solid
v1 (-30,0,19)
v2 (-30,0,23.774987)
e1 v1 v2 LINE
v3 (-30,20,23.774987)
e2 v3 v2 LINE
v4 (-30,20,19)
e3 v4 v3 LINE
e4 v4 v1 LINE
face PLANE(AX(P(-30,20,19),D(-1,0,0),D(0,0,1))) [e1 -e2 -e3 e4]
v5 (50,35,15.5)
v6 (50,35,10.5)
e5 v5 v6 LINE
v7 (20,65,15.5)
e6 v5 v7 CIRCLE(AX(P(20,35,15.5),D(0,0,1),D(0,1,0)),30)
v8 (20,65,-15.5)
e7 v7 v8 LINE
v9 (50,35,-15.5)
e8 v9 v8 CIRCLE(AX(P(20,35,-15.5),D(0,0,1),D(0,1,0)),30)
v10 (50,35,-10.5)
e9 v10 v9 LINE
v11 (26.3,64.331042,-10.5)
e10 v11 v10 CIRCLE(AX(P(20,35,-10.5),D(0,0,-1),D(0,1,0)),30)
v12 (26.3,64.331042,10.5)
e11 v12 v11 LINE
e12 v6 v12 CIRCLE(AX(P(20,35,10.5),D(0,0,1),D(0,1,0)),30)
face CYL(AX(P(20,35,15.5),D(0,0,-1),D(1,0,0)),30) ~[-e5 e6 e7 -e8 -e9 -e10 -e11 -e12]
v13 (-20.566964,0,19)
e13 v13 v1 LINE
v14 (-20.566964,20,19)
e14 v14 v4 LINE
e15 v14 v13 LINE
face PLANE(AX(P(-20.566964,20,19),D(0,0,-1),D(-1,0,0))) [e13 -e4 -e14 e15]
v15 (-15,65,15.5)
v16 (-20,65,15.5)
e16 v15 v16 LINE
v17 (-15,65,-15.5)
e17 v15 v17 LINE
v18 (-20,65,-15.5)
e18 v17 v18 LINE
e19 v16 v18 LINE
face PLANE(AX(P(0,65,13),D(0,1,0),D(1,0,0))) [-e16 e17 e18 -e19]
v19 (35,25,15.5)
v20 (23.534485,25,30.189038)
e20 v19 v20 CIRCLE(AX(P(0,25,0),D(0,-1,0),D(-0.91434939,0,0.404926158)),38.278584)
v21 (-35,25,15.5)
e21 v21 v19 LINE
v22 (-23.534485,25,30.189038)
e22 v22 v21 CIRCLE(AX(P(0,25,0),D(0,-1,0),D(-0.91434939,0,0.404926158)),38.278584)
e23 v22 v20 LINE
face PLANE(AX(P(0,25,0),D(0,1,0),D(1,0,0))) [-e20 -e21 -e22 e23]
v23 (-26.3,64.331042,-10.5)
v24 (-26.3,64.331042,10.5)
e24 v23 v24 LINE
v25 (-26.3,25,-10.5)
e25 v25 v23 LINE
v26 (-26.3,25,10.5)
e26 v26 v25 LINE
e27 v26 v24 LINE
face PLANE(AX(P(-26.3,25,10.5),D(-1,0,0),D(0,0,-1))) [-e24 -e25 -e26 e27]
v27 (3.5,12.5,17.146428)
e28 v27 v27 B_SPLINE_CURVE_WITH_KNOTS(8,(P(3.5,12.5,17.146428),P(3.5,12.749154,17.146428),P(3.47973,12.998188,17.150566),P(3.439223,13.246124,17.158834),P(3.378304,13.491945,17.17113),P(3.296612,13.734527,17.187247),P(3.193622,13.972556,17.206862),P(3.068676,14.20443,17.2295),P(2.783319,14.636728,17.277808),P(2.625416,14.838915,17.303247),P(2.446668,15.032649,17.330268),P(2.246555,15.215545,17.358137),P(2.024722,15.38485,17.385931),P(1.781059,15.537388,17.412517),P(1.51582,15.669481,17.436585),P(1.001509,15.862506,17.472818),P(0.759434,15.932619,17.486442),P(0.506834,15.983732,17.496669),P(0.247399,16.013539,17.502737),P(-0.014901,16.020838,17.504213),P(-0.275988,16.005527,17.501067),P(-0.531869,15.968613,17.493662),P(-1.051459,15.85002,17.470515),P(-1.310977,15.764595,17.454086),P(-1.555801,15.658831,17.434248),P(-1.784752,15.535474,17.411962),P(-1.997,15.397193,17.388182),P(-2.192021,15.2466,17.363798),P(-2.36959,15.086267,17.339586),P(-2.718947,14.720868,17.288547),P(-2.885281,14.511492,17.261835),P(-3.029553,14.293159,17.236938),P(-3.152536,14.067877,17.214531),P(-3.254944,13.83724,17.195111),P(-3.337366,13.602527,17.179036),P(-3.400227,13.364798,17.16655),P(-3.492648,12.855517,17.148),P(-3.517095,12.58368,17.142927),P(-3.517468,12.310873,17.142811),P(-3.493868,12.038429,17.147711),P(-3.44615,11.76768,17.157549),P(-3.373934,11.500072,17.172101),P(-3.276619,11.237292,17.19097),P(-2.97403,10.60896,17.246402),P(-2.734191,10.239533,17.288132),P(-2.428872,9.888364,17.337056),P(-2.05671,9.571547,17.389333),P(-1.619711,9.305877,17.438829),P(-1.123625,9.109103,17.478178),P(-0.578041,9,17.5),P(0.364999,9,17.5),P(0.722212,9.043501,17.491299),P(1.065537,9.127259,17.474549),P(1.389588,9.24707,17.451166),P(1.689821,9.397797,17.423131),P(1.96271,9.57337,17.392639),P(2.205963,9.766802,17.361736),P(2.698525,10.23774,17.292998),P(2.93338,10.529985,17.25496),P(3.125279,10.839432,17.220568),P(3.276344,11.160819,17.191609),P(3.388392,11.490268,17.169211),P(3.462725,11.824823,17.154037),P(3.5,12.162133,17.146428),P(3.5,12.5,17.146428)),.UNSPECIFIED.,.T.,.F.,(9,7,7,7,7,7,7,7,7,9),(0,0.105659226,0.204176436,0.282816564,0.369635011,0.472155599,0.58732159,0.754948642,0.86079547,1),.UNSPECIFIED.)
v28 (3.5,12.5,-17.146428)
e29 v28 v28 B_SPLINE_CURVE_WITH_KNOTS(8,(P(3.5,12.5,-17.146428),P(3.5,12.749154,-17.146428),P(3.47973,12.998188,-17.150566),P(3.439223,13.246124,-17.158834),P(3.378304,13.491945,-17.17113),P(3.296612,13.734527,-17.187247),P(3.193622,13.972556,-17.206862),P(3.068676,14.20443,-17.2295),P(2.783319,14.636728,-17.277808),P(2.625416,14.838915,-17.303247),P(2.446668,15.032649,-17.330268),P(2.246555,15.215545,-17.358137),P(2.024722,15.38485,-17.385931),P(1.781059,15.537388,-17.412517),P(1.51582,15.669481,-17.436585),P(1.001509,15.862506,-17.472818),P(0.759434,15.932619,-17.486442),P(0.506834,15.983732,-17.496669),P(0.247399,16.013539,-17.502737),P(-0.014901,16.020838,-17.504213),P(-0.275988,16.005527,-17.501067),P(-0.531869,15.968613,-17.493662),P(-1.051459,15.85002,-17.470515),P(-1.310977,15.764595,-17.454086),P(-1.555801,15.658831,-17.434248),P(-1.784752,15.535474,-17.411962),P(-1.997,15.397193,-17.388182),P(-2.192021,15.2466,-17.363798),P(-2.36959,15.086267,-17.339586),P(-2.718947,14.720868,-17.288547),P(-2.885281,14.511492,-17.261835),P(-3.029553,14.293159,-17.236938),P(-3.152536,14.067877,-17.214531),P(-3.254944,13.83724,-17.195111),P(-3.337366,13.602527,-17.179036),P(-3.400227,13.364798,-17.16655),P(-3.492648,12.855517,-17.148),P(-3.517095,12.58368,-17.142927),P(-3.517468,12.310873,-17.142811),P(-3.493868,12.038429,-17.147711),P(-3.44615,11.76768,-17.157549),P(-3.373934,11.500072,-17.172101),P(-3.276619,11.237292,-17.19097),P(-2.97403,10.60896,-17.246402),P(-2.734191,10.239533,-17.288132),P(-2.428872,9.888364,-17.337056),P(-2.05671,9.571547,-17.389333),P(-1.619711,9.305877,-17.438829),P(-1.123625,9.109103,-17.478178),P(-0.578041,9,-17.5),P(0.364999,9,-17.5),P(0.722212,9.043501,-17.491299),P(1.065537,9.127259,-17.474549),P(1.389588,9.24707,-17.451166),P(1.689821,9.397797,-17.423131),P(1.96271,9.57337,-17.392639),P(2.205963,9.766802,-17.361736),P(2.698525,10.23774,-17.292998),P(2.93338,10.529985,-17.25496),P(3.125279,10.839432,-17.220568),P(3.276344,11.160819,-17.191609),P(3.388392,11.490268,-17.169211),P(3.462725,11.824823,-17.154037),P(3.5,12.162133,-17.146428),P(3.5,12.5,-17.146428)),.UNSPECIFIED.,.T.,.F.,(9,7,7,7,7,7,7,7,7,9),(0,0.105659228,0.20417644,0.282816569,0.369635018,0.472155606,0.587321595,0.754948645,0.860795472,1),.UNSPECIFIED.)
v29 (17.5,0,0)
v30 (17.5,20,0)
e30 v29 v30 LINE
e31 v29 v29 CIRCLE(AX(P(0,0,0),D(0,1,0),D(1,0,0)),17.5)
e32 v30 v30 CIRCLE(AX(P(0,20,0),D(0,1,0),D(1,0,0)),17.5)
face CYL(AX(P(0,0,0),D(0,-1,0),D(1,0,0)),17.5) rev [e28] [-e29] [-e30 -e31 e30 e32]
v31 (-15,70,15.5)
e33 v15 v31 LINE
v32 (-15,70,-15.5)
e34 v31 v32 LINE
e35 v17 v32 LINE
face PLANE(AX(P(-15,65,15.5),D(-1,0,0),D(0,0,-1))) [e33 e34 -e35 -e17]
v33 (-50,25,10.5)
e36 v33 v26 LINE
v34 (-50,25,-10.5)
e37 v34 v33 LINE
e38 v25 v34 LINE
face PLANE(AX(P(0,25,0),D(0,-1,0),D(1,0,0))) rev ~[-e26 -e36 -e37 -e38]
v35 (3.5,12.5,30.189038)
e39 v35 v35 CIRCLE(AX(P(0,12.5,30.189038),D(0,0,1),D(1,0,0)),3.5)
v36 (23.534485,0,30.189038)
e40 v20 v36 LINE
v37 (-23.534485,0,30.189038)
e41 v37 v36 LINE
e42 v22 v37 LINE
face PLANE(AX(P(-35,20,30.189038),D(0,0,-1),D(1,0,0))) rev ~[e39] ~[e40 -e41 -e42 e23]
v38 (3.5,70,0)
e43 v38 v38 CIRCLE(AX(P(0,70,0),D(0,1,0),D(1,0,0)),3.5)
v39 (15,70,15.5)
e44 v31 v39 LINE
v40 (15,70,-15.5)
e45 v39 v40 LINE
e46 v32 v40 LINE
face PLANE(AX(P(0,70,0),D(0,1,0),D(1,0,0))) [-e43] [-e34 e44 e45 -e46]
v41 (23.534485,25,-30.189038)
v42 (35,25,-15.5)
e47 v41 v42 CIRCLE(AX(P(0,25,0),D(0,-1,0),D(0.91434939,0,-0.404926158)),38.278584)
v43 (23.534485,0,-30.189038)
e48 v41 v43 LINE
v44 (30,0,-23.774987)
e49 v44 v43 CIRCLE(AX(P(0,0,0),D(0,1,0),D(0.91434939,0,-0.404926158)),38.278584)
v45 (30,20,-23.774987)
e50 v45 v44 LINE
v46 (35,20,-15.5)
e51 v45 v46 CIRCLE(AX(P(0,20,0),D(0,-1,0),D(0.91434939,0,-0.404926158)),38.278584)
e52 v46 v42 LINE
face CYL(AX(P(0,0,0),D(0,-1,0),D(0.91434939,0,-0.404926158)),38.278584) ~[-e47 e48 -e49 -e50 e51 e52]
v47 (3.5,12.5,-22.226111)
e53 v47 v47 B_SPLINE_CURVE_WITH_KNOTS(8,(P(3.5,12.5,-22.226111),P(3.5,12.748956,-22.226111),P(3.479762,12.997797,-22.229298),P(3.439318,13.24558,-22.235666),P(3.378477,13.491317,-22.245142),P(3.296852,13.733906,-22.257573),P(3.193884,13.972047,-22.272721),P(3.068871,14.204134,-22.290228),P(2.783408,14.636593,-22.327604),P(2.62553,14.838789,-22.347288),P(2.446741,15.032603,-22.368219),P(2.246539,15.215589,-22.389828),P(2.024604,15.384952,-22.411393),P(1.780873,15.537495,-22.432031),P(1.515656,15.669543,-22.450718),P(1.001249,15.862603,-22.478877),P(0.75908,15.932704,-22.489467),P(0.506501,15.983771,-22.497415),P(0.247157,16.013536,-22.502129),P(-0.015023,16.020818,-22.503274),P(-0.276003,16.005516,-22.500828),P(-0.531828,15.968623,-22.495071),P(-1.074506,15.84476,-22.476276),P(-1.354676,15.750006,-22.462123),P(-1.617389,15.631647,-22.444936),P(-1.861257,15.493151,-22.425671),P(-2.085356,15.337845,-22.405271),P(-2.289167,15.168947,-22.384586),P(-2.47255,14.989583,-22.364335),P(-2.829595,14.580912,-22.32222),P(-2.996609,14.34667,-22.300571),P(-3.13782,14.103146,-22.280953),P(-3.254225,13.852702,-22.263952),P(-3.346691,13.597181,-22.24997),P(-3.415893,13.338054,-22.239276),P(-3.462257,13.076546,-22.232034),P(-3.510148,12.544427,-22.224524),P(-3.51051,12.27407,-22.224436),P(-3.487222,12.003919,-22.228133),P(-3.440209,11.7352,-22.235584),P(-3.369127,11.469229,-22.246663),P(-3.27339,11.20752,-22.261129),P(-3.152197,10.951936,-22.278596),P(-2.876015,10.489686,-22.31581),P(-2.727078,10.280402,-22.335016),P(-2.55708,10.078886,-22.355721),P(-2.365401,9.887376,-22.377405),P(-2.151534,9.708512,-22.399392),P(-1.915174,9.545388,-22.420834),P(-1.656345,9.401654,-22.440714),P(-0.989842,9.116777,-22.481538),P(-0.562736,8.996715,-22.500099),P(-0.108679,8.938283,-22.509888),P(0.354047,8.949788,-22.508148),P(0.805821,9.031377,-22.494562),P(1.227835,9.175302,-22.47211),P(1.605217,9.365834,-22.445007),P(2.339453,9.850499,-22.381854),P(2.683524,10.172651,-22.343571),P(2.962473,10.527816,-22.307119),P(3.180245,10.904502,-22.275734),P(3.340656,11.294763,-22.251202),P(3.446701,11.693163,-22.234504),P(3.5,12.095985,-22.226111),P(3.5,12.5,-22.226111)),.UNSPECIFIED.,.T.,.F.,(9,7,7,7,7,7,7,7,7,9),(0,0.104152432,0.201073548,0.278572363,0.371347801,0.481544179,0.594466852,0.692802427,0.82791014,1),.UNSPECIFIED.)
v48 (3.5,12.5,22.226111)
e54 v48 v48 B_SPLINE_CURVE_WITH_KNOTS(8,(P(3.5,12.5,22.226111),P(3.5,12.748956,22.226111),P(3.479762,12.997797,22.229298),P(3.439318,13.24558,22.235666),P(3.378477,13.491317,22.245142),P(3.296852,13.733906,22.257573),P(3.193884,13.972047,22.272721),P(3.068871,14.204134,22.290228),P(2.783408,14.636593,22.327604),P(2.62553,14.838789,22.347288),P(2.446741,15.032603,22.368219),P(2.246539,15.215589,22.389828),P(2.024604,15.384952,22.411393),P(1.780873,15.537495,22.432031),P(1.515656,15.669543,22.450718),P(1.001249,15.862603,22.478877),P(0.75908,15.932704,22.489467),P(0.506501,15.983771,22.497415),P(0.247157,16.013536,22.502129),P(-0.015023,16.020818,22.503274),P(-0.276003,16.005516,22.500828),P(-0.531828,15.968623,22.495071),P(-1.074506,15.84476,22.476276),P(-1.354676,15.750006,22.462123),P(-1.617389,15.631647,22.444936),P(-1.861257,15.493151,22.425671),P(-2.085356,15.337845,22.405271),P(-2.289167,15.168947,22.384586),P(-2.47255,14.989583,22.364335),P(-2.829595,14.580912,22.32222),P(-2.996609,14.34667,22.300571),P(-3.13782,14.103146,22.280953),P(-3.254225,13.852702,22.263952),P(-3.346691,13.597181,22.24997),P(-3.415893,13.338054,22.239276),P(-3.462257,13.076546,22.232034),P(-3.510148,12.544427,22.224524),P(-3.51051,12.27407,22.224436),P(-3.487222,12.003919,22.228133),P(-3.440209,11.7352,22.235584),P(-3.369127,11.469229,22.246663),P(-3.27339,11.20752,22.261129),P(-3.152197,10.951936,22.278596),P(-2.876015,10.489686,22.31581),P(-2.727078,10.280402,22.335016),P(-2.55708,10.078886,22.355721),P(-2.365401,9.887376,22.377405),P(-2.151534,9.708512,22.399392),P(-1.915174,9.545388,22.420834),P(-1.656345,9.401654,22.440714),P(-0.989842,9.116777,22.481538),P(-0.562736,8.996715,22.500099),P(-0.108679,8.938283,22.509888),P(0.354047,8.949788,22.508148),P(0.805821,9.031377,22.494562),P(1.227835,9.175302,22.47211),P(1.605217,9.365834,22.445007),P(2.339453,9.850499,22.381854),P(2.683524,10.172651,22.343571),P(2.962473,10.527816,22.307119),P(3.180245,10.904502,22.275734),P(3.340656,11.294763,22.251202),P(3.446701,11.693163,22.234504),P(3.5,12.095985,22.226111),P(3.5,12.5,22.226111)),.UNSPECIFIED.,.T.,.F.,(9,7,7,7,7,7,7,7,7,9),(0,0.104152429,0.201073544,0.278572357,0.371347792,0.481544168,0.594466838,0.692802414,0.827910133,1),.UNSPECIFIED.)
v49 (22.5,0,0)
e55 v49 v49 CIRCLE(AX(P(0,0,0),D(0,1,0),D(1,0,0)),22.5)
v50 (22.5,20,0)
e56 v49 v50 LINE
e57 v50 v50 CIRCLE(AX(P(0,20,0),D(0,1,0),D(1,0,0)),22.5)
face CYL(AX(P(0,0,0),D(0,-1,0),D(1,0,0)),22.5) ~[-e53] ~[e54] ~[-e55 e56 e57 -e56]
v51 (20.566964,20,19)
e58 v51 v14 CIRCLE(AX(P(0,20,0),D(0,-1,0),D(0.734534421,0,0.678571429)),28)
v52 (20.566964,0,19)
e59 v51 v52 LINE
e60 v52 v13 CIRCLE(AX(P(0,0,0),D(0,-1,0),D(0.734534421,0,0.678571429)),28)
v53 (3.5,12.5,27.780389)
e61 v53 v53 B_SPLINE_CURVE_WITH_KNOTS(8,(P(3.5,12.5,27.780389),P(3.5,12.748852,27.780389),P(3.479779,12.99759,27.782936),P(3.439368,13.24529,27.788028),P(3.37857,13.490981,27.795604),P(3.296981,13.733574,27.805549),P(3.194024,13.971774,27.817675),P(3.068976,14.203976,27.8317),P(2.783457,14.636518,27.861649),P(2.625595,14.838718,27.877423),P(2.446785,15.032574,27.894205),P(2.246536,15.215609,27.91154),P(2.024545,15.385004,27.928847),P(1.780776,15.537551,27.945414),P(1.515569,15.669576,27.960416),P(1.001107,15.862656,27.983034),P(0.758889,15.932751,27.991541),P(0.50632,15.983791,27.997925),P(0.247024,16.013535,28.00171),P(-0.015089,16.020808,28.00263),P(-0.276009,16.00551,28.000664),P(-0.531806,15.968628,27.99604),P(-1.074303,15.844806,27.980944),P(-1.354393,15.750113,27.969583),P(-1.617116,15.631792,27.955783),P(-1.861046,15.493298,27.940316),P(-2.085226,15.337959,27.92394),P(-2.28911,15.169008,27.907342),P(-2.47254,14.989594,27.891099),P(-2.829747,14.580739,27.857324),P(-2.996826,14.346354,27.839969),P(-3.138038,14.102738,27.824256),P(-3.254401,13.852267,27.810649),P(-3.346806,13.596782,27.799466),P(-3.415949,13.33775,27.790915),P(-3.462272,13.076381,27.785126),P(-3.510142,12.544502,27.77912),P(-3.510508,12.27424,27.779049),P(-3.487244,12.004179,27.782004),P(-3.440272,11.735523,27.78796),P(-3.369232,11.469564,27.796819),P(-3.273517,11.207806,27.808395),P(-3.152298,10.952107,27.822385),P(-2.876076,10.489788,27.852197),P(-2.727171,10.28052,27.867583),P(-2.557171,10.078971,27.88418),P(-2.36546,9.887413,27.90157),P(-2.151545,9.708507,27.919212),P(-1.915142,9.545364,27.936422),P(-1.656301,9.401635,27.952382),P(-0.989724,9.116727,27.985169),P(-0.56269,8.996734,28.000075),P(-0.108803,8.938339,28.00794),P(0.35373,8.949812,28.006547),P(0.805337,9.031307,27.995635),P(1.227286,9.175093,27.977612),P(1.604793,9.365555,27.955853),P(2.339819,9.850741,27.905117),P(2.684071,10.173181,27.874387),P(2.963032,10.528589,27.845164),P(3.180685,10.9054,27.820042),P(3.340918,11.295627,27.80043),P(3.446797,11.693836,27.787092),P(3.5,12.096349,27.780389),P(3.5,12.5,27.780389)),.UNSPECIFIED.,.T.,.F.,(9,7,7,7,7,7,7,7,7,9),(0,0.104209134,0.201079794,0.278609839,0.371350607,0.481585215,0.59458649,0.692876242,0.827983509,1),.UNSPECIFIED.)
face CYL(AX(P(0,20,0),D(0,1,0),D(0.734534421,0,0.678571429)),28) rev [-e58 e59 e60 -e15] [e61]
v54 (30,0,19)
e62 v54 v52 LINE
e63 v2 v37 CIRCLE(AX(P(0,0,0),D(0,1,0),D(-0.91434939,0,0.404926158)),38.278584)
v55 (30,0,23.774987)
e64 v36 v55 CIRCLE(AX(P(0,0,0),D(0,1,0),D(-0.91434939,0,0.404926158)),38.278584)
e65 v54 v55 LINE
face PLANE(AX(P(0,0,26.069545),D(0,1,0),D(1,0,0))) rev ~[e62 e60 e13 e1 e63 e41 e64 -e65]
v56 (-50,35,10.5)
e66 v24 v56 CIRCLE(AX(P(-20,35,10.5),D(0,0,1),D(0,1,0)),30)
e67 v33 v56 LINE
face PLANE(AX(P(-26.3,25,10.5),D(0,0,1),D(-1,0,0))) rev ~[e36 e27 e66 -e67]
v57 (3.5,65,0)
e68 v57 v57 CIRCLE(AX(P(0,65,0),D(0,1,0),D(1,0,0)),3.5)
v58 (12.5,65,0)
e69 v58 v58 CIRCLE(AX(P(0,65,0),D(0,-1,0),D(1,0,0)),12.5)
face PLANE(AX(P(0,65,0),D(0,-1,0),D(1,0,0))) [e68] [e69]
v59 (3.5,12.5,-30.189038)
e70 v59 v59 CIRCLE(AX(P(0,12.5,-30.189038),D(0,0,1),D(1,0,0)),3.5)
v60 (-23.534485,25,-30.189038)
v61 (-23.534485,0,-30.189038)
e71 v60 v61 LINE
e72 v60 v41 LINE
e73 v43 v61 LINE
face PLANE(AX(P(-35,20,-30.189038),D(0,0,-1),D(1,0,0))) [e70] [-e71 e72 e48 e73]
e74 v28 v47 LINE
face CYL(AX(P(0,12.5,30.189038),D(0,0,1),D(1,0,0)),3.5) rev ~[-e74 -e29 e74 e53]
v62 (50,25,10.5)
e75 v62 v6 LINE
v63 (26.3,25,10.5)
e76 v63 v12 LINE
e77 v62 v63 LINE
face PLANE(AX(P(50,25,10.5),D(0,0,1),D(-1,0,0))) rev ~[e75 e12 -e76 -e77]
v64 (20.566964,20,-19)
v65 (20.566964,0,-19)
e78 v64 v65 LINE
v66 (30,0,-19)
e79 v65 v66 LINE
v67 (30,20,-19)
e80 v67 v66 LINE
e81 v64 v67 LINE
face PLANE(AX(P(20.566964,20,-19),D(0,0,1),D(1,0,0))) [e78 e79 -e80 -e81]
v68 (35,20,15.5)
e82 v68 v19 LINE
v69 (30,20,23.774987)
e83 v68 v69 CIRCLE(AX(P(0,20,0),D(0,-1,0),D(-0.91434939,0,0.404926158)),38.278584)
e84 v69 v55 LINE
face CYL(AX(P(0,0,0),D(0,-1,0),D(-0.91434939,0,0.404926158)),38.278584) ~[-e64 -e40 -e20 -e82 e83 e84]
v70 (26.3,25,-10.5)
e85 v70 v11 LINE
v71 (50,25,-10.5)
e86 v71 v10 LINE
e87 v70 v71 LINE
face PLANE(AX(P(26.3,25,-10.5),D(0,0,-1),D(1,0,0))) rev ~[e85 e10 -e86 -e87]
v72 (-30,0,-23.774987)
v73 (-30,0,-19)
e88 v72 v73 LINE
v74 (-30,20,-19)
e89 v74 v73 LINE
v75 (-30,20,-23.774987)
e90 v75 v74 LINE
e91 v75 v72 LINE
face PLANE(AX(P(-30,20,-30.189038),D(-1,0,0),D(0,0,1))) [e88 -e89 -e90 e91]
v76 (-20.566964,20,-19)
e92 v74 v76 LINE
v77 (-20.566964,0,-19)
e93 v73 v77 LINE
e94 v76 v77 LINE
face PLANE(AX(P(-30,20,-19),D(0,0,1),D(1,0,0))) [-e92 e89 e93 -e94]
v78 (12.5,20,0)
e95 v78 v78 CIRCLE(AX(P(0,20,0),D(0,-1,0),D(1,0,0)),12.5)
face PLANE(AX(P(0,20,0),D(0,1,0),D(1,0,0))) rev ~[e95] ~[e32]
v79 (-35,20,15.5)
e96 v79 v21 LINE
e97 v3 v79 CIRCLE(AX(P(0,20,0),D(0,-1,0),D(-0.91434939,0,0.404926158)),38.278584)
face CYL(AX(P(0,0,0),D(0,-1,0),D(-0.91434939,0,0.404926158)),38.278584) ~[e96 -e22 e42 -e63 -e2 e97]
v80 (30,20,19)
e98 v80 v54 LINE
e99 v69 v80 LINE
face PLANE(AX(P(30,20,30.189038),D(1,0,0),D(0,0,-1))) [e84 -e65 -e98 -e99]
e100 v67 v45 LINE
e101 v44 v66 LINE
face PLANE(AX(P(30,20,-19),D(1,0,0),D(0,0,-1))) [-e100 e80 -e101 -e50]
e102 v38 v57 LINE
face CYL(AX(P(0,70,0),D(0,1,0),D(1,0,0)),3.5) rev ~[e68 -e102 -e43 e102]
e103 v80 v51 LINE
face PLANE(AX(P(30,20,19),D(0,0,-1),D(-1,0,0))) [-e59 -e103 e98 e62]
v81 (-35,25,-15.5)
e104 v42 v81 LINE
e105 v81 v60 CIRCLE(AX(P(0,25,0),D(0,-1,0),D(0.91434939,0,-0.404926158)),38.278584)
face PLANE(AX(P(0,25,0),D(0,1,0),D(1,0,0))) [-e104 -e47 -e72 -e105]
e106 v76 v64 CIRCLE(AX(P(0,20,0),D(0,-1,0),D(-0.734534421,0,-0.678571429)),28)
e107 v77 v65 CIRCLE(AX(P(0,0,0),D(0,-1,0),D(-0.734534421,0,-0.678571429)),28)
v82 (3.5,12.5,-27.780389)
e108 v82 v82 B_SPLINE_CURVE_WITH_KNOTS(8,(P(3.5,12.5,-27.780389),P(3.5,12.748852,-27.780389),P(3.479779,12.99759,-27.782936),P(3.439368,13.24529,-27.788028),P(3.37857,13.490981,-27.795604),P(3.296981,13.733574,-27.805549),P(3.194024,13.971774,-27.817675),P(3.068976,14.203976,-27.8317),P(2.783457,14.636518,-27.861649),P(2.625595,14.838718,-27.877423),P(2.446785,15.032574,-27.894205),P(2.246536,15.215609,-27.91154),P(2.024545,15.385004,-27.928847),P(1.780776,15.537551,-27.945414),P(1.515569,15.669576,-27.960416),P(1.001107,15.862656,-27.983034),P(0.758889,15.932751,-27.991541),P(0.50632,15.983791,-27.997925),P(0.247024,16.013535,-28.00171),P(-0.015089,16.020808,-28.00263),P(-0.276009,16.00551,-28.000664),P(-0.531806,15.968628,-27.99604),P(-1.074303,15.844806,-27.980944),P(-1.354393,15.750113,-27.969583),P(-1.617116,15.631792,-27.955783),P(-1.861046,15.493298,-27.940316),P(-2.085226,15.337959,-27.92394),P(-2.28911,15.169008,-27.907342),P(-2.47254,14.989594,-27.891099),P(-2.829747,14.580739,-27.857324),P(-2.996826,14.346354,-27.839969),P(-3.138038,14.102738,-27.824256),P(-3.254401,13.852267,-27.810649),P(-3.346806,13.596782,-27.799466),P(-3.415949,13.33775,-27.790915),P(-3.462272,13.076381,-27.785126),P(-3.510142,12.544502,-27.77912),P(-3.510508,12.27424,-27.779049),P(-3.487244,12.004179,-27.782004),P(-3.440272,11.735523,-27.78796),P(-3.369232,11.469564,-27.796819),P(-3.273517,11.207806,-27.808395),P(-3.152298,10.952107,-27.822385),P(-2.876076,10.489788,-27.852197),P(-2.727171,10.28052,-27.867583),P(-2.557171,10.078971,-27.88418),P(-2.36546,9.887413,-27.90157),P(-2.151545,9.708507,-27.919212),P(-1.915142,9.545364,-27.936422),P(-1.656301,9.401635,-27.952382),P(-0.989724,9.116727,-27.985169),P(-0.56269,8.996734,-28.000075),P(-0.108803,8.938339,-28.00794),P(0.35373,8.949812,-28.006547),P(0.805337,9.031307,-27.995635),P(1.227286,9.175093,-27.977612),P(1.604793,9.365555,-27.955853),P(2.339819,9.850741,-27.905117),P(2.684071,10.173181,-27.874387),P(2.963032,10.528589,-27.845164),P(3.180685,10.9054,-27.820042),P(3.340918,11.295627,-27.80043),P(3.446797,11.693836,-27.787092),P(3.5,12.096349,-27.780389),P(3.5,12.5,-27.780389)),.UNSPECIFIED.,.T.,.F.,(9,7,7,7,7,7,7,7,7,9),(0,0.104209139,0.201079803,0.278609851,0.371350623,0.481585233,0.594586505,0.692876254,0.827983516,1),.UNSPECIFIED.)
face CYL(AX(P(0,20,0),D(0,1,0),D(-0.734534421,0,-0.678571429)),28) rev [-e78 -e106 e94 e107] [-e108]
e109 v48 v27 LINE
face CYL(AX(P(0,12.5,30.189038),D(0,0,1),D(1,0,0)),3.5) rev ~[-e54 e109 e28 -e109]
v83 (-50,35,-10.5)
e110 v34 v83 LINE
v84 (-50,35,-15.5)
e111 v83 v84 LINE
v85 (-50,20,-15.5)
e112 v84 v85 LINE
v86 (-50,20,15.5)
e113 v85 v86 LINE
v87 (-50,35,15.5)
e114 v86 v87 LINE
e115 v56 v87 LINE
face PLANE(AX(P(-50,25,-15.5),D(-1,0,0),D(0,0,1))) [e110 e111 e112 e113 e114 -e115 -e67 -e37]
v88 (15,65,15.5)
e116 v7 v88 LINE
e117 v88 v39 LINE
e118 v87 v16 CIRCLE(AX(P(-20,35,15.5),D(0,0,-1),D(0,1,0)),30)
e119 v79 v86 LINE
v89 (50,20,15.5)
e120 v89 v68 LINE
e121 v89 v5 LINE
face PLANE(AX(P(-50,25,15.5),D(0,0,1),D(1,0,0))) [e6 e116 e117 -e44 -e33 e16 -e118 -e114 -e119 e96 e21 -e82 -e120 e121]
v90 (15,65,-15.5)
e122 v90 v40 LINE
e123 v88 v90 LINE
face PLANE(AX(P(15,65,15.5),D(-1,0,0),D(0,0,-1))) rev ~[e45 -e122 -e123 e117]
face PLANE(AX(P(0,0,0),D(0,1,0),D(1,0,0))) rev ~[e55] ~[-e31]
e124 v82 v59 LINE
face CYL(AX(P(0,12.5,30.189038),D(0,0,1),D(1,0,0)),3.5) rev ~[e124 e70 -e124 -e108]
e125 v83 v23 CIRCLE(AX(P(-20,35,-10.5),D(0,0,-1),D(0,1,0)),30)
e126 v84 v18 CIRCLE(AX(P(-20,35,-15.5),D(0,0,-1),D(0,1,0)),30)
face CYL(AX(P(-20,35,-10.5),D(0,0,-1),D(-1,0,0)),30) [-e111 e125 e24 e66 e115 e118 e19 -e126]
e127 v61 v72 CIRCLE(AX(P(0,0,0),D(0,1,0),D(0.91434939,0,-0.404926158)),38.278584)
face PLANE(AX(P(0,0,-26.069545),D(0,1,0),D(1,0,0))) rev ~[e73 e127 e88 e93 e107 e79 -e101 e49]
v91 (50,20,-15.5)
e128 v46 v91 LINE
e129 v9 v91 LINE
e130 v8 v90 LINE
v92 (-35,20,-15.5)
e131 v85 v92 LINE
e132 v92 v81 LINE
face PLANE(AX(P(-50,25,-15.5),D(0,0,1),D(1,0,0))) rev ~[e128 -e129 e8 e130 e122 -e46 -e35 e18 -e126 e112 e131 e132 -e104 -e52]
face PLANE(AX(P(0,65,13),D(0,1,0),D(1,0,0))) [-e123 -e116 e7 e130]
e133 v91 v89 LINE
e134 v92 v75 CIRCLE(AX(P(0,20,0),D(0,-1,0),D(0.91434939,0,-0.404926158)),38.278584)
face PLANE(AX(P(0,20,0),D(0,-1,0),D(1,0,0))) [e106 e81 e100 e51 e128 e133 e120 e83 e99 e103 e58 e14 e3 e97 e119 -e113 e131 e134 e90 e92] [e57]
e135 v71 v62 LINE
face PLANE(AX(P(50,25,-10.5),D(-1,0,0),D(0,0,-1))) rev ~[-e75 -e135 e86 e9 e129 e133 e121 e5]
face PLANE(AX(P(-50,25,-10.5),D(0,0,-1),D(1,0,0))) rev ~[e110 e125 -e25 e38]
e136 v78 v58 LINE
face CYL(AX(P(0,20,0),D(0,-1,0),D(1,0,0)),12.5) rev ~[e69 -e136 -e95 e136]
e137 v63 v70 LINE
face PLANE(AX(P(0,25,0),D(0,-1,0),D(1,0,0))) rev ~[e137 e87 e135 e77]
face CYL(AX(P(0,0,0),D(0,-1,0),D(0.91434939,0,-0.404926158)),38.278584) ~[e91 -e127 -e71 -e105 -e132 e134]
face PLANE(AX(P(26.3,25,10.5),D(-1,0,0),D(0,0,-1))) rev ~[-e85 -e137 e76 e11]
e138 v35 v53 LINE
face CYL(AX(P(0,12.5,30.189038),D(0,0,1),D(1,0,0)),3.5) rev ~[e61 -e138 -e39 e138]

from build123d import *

# Parameters (mm, degrees)
SKETCH1_R               = 22.5
SKETCH1_R_2             = 17.5
BOSS_EXTRUDE1_DEPTH     = 20
BOSS_EXTRUDE5_DEPTH     = 20
BOSS_EXTRUDE5_2_DEPTH   = 20
SKETCH5_W               = 70
SKETCH5_H               = 60.378075934
BOSS_EXTRUDE7_DEPTH     = 5
SKETCH6_W               = 15
SKETCH6_H               = 5
SKETCH6_W_2             = 52.6
SKETCH6_H_2             = 21
BOSS_EXTRUDE8_DEPTH     = 40
SKETCH7_W               = 100
SKETCH7_H               = 31
BOSS_EXTRUDE9_DEPTH     = 5
CUT_EXTRUDE1_DEPTH      = 1
CUT_EXTRUDE1_DEPTH_BACK = 66
FILLET1_R               = 30
SKETCH9_W               = 30
SKETCH9_H               = 31
BOSS_EXTRUDE10_DEPTH    = 5
SKETCH10_R              = 3.5
CUT_EXTRUDE2_DEPTH      = 71
SKETCH11_R              = 12.5
CUT_EXTRUDE3_DEPTH      = 45
SKETCH12_R              = 3.5
CUT_EXTRUDE4_DEPTH      = 61.378075935


with BuildPart() as part:
    # Sketch1 → Boss-Extrude1 (new body)
    with BuildSketch(Plane(origin=(0, 0, 0), x_dir=(1, 0, 0), z_dir=(0, 1, 0))):
        Circle(SKETCH1_R)
        Circle(SKETCH1_R_2, mode=Mode.SUBTRACT)
    extrude(amount=BOSS_EXTRUDE1_DEPTH)



with BuildPart() as body_2:
    # Sketch2 → Boss-Extrude5 (new body)
    with BuildSketch(Plane(origin=(0, 20, 0), x_dir=(1, 0, 0), z_dir=(0, 1, 0))):
        with BuildLine():
            Line((-20.566963801, -19), (-30, -19))
            Line((-30, -19), (-30, -30.189037967))
            Line((-30, -30.189037967), (30, -30.189037967))
            Line((30, -30.189037967), (30, -19))
            Line((30, -19), (20.566963801, -19))
            ThreePointArc((20.566963801, -19), (0, -28), (-20.566963801, -19))
        make_face()
    extrude(amount=-BOSS_EXTRUDE5_DEPTH)


with BuildPart() as body_3:
    # Sketch2 → Boss-Extrude5 2 (new body)
    with BuildSketch(Plane(origin=(0, 20, 0), x_dir=(1, 0, 0), z_dir=(0, 1, 0))):
        with BuildLine():
            Line((-30, 30.189037967), (-30, 19))
            Line((-30, 19), (-20.566963801, 19))
            ThreePointArc((-20.566963801, 19), (0, 28), (20.566963801, 19))
            Line((20.566963801, 19), (30, 19))
            Line((30, 19), (30, 30.189037967))
            Line((30, 30.189037967), (-30, 30.189037967))
        make_face()
    extrude(amount=-BOSS_EXTRUDE5_2_DEPTH)


with BuildPart() as part_1:
    add(part.part)

    add(body_2.part)  # Boss-Extrude7 merges body 2

    add(body_3.part)  # Boss-Extrude7 merges body 3
    # Sketch5 → Boss-Extrude7 (add)
    with BuildSketch(Plane(origin=(0, 20, 0), x_dir=(1, 0, 0), z_dir=(0, 1, 0))):
        Rectangle(SKETCH5_W, SKETCH5_H)
    extrude(amount=BOSS_EXTRUDE7_DEPTH)

    # Sketch6 → Boss-Extrude8 (add)
    with BuildSketch(Plane(origin=(0, 25, 0), x_dir=(1, 0, 0), z_dir=(0, 1, 0))):
        Polygon((26.3, -10.5), (-26.3, -10.5), (-35, -10.5), (-35, -15.5), (35, -15.5), (35, -10.5), align=None)
        with Locations((42.5, -13)):
            Rectangle(SKETCH6_W, SKETCH6_H)
        with Locations((-42.5, -13)):
            Rectangle(SKETCH6_W, SKETCH6_H)
        with Locations((-42.5, 13)):
            Rectangle(SKETCH6_W, SKETCH6_H)
        Polygon((-35, 10.5), (-26.3, 10.5), (26.3, 10.5), (35, 10.5), (35, 15.5), (-35, 15.5), align=None)
        with Locations((42.5, 13)):
            Rectangle(SKETCH6_W, SKETCH6_H)
        Rectangle(SKETCH6_W_2, SKETCH6_H_2)
    extrude(amount=BOSS_EXTRUDE8_DEPTH)

    # Sketch7 → Boss-Extrude9 (add)
    with BuildSketch(Plane.XZ.offset(-25)):
        Rectangle(SKETCH7_W, SKETCH7_H)
    extrude(amount=BOSS_EXTRUDE9_DEPTH)

    # Sketch8 → Cut-Extrude1 (cut, two sides)
    with BuildSketch(Plane.XZ) as cut_extrude1_sk:
        with BuildLine():
            ThreePointArc((48.319407886, 15.5), (0, 50.744607383), (-48.319407886, 15.5))
            Line((-48.319407886, 15.5), (-35, 15.5))
            ThreePointArc((-35, 15.5), (0, 38.278584091), (35, 15.5))
            Line((35, 15.5), (48.319407886, 15.5))
        make_face()
        with BuildLine():
            Line((-35, -15.5), (-48.319407886, -15.5))
            ThreePointArc((-48.319407886, -15.5), (0, -50.744607383), (48.319407886, -15.5))
            Line((48.319407886, -15.5), (35, -15.5))
            ThreePointArc((35, -15.5), (0, -38.278584091), (-35, -15.5))
        make_face()
    extrude(amount=CUT_EXTRUDE1_DEPTH, mode=Mode.SUBTRACT)
    extrude(cut_extrude1_sk.sketch, amount=-CUT_EXTRUDE1_DEPTH_BACK, mode=Mode.SUBTRACT)

    # Fillet1
    fillet1_edges = [part_1.edges().sort_by_distance(p)[0] for p in [
        (-50, 65, -13),
        (50, 65, 13),
    ]]
    fillet(fillet1_edges, radius=FILLET1_R)

    # Sketch9 → Boss-Extrude10 (add)
    with BuildSketch(Plane(origin=(0, 65, 0), x_dir=(1, 0, 0), z_dir=(0, 1, 0))):
        Rectangle(SKETCH9_W, SKETCH9_H)
    extrude(amount=BOSS_EXTRUDE10_DEPTH)

    # Sketch10 → Cut-Extrude2 (cut, through all)
    with BuildSketch(Plane(origin=(0, 70, 0), x_dir=(1, 0, 0), z_dir=(0, 1, 0))):
        Circle(SKETCH10_R)
    extrude(amount=-CUT_EXTRUDE2_DEPTH, mode=Mode.SUBTRACT)

    # Sketch11 → Cut-Extrude3 (cut)
    with BuildSketch(Plane.XZ.offset(-20)):
        Circle(SKETCH11_R)
    extrude(amount=-CUT_EXTRUDE3_DEPTH, mode=Mode.SUBTRACT)

    # Sketch12 → Cut-Extrude4 (cut, through all)
    with BuildSketch(Plane.XY.offset(30.189037967)):
        with Locations((0, 12.5)):
            Circle(SKETCH12_R)
    extrude(amount=-CUT_EXTRUDE4_DEPTH, mode=Mode.SUBTRACT)


solid = part_1.part
